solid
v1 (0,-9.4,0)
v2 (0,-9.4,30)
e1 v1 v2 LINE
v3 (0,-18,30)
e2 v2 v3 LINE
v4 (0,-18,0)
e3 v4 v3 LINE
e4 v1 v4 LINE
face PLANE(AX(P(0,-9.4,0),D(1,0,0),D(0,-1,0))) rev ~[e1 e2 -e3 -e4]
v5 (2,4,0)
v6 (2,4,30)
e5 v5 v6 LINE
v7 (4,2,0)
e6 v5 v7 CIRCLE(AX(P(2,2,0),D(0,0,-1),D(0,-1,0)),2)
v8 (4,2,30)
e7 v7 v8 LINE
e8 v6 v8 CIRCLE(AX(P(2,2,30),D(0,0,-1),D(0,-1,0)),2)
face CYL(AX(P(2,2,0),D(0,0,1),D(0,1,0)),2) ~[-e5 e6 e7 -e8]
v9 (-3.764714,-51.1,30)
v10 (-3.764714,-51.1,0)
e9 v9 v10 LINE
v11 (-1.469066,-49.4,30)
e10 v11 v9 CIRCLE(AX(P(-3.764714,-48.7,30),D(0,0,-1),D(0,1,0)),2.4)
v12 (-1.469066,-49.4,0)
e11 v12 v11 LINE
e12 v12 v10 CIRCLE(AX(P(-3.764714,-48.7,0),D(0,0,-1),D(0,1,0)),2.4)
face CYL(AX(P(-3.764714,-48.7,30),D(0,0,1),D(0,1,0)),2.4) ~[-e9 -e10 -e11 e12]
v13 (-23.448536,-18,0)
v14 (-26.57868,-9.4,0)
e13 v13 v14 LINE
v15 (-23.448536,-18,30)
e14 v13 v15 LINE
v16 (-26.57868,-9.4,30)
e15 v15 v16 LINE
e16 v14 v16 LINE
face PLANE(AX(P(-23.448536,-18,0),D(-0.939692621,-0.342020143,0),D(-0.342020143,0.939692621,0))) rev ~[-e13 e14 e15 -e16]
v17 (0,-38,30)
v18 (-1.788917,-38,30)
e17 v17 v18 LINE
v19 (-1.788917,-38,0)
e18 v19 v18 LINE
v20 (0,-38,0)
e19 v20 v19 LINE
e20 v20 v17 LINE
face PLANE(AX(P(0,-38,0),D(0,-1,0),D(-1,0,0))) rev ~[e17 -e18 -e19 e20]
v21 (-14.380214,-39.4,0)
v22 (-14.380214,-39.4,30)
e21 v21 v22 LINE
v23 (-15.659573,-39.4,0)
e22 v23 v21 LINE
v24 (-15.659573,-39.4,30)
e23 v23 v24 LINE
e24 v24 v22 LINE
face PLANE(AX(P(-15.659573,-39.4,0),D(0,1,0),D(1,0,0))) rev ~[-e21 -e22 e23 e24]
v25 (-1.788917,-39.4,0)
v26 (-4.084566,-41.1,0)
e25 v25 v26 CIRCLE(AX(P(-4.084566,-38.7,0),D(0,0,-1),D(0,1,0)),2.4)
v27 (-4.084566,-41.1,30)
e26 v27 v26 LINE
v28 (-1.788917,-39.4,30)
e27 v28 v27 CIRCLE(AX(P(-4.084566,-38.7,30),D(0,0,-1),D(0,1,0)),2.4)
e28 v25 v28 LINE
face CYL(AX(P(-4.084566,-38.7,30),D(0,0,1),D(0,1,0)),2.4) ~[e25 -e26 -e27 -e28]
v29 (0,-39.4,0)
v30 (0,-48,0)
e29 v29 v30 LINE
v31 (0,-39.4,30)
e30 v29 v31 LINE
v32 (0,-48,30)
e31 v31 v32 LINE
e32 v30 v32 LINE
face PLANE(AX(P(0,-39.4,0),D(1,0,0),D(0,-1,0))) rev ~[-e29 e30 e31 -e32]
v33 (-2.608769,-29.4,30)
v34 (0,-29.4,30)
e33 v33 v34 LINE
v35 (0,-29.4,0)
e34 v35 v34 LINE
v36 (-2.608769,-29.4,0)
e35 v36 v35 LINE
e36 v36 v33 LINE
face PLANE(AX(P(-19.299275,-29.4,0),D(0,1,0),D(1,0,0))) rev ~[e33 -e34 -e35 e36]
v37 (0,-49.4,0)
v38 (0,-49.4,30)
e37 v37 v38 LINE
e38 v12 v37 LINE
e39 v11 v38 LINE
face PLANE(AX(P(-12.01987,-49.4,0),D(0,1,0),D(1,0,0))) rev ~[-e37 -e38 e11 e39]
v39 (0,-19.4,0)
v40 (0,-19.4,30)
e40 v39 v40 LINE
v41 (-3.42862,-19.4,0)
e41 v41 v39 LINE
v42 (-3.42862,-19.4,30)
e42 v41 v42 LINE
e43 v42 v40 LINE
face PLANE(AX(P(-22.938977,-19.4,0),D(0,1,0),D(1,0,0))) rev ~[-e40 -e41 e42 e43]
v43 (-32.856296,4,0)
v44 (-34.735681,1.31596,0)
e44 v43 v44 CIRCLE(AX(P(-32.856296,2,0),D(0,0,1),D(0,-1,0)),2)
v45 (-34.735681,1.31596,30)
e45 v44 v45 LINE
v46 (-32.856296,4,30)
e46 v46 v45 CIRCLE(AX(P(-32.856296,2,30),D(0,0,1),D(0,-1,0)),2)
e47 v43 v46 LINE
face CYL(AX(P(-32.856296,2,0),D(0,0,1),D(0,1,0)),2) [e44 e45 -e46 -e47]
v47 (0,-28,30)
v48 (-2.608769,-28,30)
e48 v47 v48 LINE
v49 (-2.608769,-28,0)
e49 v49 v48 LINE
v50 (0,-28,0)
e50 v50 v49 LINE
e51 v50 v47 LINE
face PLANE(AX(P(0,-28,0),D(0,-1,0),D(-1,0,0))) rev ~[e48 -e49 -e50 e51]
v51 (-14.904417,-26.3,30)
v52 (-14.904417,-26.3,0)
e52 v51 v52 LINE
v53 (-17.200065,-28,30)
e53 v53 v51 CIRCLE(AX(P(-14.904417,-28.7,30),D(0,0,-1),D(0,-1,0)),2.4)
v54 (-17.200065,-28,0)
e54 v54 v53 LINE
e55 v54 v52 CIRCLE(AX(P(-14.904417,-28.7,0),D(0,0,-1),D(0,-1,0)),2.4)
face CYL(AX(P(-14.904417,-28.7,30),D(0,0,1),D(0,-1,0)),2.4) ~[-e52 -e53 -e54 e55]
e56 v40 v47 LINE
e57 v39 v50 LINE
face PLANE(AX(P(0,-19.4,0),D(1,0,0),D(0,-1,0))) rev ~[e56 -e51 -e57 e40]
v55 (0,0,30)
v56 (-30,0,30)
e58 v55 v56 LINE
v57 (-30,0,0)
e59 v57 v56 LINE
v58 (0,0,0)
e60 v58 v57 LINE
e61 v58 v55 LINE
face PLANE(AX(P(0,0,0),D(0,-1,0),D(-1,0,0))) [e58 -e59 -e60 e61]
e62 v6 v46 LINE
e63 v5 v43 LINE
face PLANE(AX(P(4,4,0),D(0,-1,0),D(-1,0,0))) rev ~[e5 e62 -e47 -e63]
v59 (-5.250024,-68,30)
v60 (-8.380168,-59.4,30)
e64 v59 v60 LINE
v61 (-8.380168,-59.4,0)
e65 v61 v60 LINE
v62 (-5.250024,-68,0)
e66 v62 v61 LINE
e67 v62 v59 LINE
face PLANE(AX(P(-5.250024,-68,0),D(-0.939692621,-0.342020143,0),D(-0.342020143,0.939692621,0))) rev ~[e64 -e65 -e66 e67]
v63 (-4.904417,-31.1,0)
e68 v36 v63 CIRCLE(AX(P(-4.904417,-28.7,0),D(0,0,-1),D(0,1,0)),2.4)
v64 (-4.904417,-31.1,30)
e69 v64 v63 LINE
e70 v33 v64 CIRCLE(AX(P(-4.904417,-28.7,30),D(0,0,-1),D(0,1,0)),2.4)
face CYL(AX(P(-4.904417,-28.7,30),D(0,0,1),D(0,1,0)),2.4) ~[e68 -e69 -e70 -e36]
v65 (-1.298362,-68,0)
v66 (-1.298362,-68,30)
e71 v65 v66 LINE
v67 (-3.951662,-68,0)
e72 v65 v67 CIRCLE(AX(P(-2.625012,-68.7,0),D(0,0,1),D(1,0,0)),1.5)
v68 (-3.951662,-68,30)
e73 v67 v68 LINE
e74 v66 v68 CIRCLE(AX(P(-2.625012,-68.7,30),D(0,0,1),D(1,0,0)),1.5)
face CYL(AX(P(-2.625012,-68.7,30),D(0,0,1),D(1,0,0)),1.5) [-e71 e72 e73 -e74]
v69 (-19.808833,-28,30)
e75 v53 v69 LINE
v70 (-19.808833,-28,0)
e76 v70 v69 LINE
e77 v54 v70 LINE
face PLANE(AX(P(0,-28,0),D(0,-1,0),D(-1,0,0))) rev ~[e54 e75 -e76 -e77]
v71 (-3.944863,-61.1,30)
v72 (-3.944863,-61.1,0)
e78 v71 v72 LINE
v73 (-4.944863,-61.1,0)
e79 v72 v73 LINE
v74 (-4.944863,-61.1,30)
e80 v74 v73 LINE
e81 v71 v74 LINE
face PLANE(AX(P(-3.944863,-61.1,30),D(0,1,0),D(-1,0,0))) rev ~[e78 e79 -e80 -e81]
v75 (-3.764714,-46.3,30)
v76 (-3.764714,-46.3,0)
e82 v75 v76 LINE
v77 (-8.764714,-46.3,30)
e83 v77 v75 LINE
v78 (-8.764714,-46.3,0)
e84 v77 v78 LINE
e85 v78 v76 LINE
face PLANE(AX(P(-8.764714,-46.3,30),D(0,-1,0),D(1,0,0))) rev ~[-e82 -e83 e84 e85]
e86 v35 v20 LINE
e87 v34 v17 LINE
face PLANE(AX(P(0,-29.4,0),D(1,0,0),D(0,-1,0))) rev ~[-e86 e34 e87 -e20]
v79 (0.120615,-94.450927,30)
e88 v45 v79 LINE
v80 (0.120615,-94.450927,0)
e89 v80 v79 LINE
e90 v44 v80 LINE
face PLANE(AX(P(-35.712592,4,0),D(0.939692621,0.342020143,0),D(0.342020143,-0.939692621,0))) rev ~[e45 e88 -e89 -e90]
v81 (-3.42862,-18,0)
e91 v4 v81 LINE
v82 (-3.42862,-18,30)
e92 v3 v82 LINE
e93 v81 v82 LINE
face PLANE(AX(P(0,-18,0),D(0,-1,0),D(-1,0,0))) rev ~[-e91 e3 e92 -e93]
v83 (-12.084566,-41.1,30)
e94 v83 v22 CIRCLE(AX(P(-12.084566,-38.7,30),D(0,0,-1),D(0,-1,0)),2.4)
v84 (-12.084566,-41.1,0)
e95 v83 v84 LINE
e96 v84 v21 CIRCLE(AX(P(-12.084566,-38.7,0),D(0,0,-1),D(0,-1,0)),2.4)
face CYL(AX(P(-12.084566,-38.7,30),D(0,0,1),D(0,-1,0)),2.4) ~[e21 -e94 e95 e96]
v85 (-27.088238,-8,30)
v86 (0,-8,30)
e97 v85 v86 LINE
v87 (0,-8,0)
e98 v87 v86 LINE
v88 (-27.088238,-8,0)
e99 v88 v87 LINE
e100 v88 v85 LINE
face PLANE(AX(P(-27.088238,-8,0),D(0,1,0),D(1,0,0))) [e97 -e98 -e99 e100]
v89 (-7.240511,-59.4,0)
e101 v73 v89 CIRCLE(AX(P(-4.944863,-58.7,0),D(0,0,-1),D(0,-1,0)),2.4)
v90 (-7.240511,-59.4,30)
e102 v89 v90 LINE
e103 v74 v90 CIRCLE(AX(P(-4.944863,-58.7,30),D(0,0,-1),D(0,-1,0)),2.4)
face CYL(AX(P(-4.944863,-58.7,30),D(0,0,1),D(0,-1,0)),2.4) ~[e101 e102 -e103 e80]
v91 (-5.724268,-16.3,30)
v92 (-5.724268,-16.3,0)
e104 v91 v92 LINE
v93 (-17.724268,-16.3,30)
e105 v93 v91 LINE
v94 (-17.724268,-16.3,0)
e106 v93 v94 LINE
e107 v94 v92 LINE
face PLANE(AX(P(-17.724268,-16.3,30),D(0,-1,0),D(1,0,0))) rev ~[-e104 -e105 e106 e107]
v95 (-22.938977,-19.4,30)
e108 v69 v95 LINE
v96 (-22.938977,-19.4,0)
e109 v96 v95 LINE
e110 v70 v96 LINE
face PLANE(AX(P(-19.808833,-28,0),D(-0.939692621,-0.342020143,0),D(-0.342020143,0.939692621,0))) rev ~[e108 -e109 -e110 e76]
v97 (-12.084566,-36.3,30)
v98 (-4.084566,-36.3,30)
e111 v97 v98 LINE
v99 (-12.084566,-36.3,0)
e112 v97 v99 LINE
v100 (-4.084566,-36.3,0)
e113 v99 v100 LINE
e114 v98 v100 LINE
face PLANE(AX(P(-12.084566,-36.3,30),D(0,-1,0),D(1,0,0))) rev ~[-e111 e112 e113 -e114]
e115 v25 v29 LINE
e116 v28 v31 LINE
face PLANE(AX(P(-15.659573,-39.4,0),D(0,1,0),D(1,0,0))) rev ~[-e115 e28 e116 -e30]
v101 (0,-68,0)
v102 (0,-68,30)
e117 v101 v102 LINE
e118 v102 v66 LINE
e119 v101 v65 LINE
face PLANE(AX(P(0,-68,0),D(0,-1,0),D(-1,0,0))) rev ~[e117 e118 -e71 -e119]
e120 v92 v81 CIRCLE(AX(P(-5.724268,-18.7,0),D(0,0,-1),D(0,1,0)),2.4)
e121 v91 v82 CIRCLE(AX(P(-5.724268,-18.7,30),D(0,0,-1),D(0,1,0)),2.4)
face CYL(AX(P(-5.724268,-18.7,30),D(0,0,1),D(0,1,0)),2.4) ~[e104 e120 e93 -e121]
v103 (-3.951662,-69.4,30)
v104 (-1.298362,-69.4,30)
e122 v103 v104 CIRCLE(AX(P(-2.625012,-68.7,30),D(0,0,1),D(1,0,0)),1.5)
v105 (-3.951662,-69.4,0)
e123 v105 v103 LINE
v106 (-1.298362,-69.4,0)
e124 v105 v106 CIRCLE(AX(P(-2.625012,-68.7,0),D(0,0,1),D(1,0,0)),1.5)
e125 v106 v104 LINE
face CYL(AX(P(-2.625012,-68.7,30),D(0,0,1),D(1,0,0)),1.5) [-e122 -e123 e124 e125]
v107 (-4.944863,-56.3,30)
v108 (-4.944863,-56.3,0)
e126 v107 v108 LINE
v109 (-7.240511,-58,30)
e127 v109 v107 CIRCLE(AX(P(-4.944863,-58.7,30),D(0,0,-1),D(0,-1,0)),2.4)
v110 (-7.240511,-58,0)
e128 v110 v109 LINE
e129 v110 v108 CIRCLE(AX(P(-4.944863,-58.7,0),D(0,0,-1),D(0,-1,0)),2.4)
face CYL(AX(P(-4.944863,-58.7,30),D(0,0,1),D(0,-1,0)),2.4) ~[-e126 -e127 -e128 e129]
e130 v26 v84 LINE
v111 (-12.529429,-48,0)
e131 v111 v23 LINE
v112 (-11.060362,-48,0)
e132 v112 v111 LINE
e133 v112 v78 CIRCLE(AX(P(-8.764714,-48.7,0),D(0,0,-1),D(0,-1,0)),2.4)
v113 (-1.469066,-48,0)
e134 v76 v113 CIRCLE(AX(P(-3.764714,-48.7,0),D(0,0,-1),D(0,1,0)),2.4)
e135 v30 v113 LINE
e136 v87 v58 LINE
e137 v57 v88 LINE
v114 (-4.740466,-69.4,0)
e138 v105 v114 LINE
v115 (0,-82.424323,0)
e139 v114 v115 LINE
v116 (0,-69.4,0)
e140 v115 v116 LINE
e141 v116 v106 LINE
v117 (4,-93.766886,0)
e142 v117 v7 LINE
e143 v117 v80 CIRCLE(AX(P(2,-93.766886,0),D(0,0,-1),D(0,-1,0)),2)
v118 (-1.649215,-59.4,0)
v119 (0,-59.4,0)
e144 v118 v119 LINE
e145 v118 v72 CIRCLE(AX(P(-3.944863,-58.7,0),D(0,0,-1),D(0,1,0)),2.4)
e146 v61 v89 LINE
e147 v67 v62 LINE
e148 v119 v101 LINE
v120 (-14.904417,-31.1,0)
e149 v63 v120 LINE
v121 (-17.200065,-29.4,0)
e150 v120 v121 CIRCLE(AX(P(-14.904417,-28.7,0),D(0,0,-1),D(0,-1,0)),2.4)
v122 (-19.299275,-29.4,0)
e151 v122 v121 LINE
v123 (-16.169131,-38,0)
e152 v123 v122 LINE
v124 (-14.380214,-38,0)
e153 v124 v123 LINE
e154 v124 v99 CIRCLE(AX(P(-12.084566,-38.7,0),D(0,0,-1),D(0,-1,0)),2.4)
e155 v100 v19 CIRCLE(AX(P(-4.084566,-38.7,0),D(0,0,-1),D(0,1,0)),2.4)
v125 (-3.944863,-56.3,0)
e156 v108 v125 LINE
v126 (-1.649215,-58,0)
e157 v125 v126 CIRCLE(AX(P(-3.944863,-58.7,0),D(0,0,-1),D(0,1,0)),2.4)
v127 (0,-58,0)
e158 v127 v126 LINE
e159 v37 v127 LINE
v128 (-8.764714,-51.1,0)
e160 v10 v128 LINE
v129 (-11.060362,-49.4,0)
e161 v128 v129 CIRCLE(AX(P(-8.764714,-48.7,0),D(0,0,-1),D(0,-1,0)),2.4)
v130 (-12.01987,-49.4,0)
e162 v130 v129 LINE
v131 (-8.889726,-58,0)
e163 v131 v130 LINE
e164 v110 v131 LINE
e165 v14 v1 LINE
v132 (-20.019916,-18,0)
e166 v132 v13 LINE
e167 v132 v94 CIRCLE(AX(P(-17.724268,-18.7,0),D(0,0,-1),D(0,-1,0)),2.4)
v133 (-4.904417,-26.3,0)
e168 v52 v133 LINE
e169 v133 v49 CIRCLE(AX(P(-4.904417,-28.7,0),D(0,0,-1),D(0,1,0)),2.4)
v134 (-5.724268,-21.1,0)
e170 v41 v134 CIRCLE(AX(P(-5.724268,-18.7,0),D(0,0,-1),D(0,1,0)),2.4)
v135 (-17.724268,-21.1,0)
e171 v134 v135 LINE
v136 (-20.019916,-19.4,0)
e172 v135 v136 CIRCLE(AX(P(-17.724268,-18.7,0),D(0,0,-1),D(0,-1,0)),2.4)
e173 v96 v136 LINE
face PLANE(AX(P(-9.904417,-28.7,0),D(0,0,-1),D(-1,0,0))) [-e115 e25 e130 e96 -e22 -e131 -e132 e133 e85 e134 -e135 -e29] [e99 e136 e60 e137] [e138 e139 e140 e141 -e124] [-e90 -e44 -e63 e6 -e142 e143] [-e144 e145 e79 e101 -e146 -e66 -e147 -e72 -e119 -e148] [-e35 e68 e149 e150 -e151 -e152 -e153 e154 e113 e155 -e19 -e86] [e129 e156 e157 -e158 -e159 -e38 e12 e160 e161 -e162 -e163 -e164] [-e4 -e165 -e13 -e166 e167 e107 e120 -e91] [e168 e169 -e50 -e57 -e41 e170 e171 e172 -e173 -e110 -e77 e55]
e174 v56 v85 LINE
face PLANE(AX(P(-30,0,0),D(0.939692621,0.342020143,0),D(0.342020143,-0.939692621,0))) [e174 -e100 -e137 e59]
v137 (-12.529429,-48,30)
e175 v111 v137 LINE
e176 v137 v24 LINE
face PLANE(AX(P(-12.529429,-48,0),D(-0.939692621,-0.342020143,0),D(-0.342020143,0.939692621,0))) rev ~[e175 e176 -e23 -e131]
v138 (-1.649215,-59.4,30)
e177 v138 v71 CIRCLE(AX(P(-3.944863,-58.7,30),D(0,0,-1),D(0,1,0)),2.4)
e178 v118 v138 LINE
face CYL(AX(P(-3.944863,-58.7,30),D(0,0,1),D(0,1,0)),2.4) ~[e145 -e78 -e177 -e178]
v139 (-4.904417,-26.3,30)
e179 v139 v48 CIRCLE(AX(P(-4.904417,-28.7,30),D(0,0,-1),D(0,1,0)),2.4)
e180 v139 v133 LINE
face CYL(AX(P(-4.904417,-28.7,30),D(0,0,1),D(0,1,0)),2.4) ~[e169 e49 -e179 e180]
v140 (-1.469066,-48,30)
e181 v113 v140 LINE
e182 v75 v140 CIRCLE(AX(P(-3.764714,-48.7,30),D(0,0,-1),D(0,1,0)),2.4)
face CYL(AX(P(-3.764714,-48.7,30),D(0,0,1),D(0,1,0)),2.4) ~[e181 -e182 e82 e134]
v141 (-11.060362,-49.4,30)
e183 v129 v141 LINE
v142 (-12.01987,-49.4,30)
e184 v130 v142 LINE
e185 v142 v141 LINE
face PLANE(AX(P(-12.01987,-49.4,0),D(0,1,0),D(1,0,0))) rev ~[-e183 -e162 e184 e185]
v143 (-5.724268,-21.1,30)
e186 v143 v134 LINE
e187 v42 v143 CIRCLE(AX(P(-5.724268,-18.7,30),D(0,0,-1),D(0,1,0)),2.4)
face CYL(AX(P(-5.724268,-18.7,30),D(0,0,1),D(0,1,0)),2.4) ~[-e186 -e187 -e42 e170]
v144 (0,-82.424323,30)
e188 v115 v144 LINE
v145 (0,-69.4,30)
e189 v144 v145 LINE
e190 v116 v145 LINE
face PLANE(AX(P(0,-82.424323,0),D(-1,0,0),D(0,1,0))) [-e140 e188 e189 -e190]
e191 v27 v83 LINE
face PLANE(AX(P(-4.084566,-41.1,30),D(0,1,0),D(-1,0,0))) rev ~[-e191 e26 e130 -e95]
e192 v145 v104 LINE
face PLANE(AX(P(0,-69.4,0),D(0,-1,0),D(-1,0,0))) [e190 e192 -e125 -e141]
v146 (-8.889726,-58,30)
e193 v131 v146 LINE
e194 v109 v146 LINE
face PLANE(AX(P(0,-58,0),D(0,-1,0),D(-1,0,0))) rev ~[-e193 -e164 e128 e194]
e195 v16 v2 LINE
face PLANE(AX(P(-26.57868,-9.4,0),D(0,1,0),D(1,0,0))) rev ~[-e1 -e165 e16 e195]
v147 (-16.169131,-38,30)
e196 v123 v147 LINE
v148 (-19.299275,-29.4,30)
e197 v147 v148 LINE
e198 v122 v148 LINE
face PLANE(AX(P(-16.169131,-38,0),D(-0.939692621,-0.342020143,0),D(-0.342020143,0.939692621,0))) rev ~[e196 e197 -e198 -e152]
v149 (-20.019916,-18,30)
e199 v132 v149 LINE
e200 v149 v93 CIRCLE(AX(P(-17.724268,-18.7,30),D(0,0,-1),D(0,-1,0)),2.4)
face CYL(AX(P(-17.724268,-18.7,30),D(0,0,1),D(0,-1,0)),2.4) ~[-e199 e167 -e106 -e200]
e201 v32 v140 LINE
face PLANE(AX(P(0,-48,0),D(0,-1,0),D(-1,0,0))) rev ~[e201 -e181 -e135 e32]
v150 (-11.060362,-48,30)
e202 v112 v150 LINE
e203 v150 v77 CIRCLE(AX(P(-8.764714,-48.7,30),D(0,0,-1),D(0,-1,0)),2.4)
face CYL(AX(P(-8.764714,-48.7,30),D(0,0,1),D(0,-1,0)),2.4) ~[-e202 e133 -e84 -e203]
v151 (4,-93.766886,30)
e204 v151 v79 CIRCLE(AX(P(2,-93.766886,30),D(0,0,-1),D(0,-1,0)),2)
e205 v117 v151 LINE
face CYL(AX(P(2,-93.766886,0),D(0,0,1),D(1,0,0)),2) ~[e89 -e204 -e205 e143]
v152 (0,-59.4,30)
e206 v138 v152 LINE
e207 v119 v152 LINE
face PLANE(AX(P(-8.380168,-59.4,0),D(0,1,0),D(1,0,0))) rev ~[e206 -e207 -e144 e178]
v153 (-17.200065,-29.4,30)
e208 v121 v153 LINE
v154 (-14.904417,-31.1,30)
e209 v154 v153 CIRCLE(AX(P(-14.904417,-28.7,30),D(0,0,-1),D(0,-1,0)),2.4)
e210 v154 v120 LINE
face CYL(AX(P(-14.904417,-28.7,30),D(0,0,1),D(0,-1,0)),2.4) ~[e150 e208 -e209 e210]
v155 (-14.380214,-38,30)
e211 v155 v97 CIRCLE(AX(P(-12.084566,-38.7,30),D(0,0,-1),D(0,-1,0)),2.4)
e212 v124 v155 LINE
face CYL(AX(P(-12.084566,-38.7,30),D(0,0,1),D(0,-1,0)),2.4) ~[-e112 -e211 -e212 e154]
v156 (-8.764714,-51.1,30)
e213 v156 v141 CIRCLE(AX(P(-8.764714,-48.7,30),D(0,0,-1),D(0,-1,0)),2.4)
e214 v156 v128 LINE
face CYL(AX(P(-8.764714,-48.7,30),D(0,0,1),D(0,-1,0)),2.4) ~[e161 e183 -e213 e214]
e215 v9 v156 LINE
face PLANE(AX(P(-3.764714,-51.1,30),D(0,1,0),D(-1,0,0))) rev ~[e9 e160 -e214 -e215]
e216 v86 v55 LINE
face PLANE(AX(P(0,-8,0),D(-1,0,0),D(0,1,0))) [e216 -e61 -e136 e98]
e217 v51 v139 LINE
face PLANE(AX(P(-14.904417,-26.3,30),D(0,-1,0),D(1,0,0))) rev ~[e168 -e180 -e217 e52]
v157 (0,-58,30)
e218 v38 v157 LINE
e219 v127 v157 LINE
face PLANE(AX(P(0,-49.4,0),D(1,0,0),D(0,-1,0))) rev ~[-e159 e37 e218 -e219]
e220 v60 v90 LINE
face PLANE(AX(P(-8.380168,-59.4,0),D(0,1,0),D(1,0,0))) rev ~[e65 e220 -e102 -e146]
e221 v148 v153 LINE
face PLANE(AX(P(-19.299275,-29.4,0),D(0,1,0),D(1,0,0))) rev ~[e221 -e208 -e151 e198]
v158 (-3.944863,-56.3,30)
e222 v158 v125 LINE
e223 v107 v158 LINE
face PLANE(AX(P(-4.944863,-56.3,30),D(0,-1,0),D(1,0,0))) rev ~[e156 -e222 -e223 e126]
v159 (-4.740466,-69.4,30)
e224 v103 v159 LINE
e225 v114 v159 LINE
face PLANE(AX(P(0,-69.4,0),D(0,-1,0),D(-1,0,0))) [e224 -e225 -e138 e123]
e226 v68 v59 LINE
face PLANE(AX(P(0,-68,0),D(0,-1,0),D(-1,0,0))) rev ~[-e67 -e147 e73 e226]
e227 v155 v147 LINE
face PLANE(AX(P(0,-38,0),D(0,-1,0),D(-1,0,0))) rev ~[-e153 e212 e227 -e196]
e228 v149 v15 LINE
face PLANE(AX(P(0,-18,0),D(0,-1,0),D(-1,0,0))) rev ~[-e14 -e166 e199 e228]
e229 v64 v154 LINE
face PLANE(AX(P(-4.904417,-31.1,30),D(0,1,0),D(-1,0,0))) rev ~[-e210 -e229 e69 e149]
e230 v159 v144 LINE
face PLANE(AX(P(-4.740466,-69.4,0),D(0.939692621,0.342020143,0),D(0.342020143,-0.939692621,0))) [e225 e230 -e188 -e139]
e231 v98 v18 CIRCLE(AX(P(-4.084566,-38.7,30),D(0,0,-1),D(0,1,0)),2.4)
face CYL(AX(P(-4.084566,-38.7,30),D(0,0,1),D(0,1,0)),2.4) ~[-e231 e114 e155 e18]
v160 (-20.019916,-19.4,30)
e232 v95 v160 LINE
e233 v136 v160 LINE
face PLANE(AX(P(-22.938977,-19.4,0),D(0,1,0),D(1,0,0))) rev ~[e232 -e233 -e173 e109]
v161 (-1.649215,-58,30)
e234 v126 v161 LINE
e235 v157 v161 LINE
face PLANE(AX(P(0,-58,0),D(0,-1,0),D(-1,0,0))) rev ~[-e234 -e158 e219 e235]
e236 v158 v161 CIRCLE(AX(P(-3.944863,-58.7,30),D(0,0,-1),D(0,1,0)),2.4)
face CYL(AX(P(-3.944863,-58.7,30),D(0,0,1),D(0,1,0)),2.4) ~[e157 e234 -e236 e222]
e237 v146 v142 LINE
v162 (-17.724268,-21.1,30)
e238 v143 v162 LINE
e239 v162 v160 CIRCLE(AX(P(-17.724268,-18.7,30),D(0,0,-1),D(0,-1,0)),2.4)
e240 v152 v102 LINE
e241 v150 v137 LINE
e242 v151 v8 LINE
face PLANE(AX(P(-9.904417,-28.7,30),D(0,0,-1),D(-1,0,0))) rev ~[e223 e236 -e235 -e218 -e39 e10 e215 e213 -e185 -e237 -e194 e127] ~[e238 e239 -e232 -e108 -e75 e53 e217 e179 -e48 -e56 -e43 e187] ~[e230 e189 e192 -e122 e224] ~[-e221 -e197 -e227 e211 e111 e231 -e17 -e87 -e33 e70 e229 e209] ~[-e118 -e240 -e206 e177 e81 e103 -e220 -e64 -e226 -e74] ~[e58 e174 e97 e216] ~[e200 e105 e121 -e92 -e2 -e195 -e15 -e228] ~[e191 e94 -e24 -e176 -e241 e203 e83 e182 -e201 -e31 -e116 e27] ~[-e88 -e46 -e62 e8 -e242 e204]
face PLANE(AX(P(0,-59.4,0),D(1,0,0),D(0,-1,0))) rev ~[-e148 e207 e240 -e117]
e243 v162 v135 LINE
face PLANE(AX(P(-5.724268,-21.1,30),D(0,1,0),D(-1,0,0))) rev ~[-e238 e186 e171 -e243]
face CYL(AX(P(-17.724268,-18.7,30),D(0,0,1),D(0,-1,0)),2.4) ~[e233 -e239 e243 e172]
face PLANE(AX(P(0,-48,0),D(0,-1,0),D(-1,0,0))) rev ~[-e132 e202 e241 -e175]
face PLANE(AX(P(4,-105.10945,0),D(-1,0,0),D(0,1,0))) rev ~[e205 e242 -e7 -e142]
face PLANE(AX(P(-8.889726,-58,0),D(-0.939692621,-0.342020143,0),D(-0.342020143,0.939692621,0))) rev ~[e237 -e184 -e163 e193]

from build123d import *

# Parameters (mm, degrees)
BOSS_EXTRUDE2_DEPTH = 30
FILLET2_R           = 2
BOSS_EXTRUDE3_DEPTH = 30
SKETCH5_R           = 1.5
BOSS_EXTRUDE4_DEPTH = 30


with BuildPart() as part:
    # Sketch1 → Boss-Extrude2 (new body)
    with BuildSketch(Plane.XY):
        Polygon((4, 4), (-35.712592027, 4), (4, -105.109449862), align=None)
        Polygon((0, 0), (-30, 0), (-27.088238126, -8), (0, -8), align=None, mode=Mode.SUBTRACT)
        Polygon((0, -82.424322584), (0, -69.4), (-4.740465742, -69.4), align=None, mode=Mode.SUBTRACT)
        Polygon((-26.578679798, -9.4), (0, -9.4), (0, -18), (-23.448535783, -18), align=None, mode=Mode.SUBTRACT)
        Polygon((-22.938977455, -19.4), (0, -19.4), (0, -28), (-19.808833441, -28), align=None, mode=Mode.SUBTRACT)
        Polygon((-19.299275113, -29.4), (0, -29.4), (0, -38), (-16.169131098, -38), align=None, mode=Mode.SUBTRACT)
        Polygon((-15.65957277, -39.4), (0, -39.4), (0, -48), (-12.529428755, -48), align=None, mode=Mode.SUBTRACT)
        Polygon((-12.019870427, -49.4), (0, -49.4), (0, -58), (-8.889726413, -58), align=None, mode=Mode.SUBTRACT)
        Polygon((-8.380168085, -59.4), (0, -59.4), (0, -68), (-5.25002407, -68), align=None, mode=Mode.SUBTRACT)
    extrude(amount=BOSS_EXTRUDE2_DEPTH)

    # Fillet2
    fillet2_edges = [part.edges().sort_by_distance(p)[0] for p in [
        (-35.712592027, 4, 15),
        (4, 4, 15),
        (4, -105.109449862, 15),
    ]]
    fillet(fillet2_edges, radius=FILLET2_R)

    # Sketch4 → Boss-Extrude3 (add)
    with BuildSketch(Plane.XY.offset(30)):
        with BuildLine():
            Line((-14.90441672, -26.3), (-4.90441672, -26.3))
            ThreePointArc((-4.90441672, -26.3), (-2.50441672, -28.7), (-4.90441672, -31.1))
            Line((-4.90441672, -31.1), (-14.90441672, -31.1))
            ThreePointArc((-14.90441672, -31.1), (-17.30441672, -28.7), (-14.90441672, -26.3))
        make_face()
        with BuildLine():
            Line((-4.084565549, -41.1), (-12.084565549, -41.1))
            ThreePointArc((-12.084565549, -41.1), (-14.484565549, -38.7), (-12.084565549, -36.3))
            Line((-12.084565549, -36.3), (-4.084565549, -36.3))
            ThreePointArc((-4.084565549, -36.3), (-1.684565549, -38.7), (-4.084565549, -41.1))
        make_face()
        with BuildLine():
            Line((-8.764714378, -46.3), (-3.764714378, -46.3))
            ThreePointArc((-3.764714378, -46.3), (-1.364714378, -48.7), (-3.764714378, -51.1))
            Line((-3.764714378, -51.1), (-8.764714378, -51.1))
            ThreePointArc((-8.764714378, -51.1), (-11.164714378, -48.7), (-8.764714378, -46.3))
        make_face()
        with BuildLine():
            Line((-4.944863206, -56.3), (-3.944863206, -56.3))
            ThreePointArc((-3.944863206, -56.3), (-1.544863206, -58.7), (-3.944863206, -61.1))
            Line((-3.944863206, -61.1), (-4.944863206, -61.1))
            ThreePointArc((-4.944863206, -61.1), (-7.344863206, -58.7), (-4.944863206, -56.3))
        make_face()
        with BuildLine():
            Line((-5.724267892, -21.1), (-17.724267892, -21.1))
            ThreePointArc((-17.724267892, -21.1), (-20.124267892, -18.7), (-17.724267892, -16.3))
            Line((-17.724267892, -16.3), (-5.724267892, -16.3))
            ThreePointArc((-5.724267892, -16.3), (-3.324267892, -18.7), (-5.724267892, -21.1))
        make_face()
    extrude(amount=-BOSS_EXTRUDE3_DEPTH)

    # Sketch5 → Boss-Extrude4 (add)
    with BuildSketch(Plane.XY.offset(30)):
        with Locations((-2.625012035, -68.7)):
            Circle(SKETCH5_R)
    extrude(amount=-BOSS_EXTRUDE4_DEPTH)


solid = part.part
